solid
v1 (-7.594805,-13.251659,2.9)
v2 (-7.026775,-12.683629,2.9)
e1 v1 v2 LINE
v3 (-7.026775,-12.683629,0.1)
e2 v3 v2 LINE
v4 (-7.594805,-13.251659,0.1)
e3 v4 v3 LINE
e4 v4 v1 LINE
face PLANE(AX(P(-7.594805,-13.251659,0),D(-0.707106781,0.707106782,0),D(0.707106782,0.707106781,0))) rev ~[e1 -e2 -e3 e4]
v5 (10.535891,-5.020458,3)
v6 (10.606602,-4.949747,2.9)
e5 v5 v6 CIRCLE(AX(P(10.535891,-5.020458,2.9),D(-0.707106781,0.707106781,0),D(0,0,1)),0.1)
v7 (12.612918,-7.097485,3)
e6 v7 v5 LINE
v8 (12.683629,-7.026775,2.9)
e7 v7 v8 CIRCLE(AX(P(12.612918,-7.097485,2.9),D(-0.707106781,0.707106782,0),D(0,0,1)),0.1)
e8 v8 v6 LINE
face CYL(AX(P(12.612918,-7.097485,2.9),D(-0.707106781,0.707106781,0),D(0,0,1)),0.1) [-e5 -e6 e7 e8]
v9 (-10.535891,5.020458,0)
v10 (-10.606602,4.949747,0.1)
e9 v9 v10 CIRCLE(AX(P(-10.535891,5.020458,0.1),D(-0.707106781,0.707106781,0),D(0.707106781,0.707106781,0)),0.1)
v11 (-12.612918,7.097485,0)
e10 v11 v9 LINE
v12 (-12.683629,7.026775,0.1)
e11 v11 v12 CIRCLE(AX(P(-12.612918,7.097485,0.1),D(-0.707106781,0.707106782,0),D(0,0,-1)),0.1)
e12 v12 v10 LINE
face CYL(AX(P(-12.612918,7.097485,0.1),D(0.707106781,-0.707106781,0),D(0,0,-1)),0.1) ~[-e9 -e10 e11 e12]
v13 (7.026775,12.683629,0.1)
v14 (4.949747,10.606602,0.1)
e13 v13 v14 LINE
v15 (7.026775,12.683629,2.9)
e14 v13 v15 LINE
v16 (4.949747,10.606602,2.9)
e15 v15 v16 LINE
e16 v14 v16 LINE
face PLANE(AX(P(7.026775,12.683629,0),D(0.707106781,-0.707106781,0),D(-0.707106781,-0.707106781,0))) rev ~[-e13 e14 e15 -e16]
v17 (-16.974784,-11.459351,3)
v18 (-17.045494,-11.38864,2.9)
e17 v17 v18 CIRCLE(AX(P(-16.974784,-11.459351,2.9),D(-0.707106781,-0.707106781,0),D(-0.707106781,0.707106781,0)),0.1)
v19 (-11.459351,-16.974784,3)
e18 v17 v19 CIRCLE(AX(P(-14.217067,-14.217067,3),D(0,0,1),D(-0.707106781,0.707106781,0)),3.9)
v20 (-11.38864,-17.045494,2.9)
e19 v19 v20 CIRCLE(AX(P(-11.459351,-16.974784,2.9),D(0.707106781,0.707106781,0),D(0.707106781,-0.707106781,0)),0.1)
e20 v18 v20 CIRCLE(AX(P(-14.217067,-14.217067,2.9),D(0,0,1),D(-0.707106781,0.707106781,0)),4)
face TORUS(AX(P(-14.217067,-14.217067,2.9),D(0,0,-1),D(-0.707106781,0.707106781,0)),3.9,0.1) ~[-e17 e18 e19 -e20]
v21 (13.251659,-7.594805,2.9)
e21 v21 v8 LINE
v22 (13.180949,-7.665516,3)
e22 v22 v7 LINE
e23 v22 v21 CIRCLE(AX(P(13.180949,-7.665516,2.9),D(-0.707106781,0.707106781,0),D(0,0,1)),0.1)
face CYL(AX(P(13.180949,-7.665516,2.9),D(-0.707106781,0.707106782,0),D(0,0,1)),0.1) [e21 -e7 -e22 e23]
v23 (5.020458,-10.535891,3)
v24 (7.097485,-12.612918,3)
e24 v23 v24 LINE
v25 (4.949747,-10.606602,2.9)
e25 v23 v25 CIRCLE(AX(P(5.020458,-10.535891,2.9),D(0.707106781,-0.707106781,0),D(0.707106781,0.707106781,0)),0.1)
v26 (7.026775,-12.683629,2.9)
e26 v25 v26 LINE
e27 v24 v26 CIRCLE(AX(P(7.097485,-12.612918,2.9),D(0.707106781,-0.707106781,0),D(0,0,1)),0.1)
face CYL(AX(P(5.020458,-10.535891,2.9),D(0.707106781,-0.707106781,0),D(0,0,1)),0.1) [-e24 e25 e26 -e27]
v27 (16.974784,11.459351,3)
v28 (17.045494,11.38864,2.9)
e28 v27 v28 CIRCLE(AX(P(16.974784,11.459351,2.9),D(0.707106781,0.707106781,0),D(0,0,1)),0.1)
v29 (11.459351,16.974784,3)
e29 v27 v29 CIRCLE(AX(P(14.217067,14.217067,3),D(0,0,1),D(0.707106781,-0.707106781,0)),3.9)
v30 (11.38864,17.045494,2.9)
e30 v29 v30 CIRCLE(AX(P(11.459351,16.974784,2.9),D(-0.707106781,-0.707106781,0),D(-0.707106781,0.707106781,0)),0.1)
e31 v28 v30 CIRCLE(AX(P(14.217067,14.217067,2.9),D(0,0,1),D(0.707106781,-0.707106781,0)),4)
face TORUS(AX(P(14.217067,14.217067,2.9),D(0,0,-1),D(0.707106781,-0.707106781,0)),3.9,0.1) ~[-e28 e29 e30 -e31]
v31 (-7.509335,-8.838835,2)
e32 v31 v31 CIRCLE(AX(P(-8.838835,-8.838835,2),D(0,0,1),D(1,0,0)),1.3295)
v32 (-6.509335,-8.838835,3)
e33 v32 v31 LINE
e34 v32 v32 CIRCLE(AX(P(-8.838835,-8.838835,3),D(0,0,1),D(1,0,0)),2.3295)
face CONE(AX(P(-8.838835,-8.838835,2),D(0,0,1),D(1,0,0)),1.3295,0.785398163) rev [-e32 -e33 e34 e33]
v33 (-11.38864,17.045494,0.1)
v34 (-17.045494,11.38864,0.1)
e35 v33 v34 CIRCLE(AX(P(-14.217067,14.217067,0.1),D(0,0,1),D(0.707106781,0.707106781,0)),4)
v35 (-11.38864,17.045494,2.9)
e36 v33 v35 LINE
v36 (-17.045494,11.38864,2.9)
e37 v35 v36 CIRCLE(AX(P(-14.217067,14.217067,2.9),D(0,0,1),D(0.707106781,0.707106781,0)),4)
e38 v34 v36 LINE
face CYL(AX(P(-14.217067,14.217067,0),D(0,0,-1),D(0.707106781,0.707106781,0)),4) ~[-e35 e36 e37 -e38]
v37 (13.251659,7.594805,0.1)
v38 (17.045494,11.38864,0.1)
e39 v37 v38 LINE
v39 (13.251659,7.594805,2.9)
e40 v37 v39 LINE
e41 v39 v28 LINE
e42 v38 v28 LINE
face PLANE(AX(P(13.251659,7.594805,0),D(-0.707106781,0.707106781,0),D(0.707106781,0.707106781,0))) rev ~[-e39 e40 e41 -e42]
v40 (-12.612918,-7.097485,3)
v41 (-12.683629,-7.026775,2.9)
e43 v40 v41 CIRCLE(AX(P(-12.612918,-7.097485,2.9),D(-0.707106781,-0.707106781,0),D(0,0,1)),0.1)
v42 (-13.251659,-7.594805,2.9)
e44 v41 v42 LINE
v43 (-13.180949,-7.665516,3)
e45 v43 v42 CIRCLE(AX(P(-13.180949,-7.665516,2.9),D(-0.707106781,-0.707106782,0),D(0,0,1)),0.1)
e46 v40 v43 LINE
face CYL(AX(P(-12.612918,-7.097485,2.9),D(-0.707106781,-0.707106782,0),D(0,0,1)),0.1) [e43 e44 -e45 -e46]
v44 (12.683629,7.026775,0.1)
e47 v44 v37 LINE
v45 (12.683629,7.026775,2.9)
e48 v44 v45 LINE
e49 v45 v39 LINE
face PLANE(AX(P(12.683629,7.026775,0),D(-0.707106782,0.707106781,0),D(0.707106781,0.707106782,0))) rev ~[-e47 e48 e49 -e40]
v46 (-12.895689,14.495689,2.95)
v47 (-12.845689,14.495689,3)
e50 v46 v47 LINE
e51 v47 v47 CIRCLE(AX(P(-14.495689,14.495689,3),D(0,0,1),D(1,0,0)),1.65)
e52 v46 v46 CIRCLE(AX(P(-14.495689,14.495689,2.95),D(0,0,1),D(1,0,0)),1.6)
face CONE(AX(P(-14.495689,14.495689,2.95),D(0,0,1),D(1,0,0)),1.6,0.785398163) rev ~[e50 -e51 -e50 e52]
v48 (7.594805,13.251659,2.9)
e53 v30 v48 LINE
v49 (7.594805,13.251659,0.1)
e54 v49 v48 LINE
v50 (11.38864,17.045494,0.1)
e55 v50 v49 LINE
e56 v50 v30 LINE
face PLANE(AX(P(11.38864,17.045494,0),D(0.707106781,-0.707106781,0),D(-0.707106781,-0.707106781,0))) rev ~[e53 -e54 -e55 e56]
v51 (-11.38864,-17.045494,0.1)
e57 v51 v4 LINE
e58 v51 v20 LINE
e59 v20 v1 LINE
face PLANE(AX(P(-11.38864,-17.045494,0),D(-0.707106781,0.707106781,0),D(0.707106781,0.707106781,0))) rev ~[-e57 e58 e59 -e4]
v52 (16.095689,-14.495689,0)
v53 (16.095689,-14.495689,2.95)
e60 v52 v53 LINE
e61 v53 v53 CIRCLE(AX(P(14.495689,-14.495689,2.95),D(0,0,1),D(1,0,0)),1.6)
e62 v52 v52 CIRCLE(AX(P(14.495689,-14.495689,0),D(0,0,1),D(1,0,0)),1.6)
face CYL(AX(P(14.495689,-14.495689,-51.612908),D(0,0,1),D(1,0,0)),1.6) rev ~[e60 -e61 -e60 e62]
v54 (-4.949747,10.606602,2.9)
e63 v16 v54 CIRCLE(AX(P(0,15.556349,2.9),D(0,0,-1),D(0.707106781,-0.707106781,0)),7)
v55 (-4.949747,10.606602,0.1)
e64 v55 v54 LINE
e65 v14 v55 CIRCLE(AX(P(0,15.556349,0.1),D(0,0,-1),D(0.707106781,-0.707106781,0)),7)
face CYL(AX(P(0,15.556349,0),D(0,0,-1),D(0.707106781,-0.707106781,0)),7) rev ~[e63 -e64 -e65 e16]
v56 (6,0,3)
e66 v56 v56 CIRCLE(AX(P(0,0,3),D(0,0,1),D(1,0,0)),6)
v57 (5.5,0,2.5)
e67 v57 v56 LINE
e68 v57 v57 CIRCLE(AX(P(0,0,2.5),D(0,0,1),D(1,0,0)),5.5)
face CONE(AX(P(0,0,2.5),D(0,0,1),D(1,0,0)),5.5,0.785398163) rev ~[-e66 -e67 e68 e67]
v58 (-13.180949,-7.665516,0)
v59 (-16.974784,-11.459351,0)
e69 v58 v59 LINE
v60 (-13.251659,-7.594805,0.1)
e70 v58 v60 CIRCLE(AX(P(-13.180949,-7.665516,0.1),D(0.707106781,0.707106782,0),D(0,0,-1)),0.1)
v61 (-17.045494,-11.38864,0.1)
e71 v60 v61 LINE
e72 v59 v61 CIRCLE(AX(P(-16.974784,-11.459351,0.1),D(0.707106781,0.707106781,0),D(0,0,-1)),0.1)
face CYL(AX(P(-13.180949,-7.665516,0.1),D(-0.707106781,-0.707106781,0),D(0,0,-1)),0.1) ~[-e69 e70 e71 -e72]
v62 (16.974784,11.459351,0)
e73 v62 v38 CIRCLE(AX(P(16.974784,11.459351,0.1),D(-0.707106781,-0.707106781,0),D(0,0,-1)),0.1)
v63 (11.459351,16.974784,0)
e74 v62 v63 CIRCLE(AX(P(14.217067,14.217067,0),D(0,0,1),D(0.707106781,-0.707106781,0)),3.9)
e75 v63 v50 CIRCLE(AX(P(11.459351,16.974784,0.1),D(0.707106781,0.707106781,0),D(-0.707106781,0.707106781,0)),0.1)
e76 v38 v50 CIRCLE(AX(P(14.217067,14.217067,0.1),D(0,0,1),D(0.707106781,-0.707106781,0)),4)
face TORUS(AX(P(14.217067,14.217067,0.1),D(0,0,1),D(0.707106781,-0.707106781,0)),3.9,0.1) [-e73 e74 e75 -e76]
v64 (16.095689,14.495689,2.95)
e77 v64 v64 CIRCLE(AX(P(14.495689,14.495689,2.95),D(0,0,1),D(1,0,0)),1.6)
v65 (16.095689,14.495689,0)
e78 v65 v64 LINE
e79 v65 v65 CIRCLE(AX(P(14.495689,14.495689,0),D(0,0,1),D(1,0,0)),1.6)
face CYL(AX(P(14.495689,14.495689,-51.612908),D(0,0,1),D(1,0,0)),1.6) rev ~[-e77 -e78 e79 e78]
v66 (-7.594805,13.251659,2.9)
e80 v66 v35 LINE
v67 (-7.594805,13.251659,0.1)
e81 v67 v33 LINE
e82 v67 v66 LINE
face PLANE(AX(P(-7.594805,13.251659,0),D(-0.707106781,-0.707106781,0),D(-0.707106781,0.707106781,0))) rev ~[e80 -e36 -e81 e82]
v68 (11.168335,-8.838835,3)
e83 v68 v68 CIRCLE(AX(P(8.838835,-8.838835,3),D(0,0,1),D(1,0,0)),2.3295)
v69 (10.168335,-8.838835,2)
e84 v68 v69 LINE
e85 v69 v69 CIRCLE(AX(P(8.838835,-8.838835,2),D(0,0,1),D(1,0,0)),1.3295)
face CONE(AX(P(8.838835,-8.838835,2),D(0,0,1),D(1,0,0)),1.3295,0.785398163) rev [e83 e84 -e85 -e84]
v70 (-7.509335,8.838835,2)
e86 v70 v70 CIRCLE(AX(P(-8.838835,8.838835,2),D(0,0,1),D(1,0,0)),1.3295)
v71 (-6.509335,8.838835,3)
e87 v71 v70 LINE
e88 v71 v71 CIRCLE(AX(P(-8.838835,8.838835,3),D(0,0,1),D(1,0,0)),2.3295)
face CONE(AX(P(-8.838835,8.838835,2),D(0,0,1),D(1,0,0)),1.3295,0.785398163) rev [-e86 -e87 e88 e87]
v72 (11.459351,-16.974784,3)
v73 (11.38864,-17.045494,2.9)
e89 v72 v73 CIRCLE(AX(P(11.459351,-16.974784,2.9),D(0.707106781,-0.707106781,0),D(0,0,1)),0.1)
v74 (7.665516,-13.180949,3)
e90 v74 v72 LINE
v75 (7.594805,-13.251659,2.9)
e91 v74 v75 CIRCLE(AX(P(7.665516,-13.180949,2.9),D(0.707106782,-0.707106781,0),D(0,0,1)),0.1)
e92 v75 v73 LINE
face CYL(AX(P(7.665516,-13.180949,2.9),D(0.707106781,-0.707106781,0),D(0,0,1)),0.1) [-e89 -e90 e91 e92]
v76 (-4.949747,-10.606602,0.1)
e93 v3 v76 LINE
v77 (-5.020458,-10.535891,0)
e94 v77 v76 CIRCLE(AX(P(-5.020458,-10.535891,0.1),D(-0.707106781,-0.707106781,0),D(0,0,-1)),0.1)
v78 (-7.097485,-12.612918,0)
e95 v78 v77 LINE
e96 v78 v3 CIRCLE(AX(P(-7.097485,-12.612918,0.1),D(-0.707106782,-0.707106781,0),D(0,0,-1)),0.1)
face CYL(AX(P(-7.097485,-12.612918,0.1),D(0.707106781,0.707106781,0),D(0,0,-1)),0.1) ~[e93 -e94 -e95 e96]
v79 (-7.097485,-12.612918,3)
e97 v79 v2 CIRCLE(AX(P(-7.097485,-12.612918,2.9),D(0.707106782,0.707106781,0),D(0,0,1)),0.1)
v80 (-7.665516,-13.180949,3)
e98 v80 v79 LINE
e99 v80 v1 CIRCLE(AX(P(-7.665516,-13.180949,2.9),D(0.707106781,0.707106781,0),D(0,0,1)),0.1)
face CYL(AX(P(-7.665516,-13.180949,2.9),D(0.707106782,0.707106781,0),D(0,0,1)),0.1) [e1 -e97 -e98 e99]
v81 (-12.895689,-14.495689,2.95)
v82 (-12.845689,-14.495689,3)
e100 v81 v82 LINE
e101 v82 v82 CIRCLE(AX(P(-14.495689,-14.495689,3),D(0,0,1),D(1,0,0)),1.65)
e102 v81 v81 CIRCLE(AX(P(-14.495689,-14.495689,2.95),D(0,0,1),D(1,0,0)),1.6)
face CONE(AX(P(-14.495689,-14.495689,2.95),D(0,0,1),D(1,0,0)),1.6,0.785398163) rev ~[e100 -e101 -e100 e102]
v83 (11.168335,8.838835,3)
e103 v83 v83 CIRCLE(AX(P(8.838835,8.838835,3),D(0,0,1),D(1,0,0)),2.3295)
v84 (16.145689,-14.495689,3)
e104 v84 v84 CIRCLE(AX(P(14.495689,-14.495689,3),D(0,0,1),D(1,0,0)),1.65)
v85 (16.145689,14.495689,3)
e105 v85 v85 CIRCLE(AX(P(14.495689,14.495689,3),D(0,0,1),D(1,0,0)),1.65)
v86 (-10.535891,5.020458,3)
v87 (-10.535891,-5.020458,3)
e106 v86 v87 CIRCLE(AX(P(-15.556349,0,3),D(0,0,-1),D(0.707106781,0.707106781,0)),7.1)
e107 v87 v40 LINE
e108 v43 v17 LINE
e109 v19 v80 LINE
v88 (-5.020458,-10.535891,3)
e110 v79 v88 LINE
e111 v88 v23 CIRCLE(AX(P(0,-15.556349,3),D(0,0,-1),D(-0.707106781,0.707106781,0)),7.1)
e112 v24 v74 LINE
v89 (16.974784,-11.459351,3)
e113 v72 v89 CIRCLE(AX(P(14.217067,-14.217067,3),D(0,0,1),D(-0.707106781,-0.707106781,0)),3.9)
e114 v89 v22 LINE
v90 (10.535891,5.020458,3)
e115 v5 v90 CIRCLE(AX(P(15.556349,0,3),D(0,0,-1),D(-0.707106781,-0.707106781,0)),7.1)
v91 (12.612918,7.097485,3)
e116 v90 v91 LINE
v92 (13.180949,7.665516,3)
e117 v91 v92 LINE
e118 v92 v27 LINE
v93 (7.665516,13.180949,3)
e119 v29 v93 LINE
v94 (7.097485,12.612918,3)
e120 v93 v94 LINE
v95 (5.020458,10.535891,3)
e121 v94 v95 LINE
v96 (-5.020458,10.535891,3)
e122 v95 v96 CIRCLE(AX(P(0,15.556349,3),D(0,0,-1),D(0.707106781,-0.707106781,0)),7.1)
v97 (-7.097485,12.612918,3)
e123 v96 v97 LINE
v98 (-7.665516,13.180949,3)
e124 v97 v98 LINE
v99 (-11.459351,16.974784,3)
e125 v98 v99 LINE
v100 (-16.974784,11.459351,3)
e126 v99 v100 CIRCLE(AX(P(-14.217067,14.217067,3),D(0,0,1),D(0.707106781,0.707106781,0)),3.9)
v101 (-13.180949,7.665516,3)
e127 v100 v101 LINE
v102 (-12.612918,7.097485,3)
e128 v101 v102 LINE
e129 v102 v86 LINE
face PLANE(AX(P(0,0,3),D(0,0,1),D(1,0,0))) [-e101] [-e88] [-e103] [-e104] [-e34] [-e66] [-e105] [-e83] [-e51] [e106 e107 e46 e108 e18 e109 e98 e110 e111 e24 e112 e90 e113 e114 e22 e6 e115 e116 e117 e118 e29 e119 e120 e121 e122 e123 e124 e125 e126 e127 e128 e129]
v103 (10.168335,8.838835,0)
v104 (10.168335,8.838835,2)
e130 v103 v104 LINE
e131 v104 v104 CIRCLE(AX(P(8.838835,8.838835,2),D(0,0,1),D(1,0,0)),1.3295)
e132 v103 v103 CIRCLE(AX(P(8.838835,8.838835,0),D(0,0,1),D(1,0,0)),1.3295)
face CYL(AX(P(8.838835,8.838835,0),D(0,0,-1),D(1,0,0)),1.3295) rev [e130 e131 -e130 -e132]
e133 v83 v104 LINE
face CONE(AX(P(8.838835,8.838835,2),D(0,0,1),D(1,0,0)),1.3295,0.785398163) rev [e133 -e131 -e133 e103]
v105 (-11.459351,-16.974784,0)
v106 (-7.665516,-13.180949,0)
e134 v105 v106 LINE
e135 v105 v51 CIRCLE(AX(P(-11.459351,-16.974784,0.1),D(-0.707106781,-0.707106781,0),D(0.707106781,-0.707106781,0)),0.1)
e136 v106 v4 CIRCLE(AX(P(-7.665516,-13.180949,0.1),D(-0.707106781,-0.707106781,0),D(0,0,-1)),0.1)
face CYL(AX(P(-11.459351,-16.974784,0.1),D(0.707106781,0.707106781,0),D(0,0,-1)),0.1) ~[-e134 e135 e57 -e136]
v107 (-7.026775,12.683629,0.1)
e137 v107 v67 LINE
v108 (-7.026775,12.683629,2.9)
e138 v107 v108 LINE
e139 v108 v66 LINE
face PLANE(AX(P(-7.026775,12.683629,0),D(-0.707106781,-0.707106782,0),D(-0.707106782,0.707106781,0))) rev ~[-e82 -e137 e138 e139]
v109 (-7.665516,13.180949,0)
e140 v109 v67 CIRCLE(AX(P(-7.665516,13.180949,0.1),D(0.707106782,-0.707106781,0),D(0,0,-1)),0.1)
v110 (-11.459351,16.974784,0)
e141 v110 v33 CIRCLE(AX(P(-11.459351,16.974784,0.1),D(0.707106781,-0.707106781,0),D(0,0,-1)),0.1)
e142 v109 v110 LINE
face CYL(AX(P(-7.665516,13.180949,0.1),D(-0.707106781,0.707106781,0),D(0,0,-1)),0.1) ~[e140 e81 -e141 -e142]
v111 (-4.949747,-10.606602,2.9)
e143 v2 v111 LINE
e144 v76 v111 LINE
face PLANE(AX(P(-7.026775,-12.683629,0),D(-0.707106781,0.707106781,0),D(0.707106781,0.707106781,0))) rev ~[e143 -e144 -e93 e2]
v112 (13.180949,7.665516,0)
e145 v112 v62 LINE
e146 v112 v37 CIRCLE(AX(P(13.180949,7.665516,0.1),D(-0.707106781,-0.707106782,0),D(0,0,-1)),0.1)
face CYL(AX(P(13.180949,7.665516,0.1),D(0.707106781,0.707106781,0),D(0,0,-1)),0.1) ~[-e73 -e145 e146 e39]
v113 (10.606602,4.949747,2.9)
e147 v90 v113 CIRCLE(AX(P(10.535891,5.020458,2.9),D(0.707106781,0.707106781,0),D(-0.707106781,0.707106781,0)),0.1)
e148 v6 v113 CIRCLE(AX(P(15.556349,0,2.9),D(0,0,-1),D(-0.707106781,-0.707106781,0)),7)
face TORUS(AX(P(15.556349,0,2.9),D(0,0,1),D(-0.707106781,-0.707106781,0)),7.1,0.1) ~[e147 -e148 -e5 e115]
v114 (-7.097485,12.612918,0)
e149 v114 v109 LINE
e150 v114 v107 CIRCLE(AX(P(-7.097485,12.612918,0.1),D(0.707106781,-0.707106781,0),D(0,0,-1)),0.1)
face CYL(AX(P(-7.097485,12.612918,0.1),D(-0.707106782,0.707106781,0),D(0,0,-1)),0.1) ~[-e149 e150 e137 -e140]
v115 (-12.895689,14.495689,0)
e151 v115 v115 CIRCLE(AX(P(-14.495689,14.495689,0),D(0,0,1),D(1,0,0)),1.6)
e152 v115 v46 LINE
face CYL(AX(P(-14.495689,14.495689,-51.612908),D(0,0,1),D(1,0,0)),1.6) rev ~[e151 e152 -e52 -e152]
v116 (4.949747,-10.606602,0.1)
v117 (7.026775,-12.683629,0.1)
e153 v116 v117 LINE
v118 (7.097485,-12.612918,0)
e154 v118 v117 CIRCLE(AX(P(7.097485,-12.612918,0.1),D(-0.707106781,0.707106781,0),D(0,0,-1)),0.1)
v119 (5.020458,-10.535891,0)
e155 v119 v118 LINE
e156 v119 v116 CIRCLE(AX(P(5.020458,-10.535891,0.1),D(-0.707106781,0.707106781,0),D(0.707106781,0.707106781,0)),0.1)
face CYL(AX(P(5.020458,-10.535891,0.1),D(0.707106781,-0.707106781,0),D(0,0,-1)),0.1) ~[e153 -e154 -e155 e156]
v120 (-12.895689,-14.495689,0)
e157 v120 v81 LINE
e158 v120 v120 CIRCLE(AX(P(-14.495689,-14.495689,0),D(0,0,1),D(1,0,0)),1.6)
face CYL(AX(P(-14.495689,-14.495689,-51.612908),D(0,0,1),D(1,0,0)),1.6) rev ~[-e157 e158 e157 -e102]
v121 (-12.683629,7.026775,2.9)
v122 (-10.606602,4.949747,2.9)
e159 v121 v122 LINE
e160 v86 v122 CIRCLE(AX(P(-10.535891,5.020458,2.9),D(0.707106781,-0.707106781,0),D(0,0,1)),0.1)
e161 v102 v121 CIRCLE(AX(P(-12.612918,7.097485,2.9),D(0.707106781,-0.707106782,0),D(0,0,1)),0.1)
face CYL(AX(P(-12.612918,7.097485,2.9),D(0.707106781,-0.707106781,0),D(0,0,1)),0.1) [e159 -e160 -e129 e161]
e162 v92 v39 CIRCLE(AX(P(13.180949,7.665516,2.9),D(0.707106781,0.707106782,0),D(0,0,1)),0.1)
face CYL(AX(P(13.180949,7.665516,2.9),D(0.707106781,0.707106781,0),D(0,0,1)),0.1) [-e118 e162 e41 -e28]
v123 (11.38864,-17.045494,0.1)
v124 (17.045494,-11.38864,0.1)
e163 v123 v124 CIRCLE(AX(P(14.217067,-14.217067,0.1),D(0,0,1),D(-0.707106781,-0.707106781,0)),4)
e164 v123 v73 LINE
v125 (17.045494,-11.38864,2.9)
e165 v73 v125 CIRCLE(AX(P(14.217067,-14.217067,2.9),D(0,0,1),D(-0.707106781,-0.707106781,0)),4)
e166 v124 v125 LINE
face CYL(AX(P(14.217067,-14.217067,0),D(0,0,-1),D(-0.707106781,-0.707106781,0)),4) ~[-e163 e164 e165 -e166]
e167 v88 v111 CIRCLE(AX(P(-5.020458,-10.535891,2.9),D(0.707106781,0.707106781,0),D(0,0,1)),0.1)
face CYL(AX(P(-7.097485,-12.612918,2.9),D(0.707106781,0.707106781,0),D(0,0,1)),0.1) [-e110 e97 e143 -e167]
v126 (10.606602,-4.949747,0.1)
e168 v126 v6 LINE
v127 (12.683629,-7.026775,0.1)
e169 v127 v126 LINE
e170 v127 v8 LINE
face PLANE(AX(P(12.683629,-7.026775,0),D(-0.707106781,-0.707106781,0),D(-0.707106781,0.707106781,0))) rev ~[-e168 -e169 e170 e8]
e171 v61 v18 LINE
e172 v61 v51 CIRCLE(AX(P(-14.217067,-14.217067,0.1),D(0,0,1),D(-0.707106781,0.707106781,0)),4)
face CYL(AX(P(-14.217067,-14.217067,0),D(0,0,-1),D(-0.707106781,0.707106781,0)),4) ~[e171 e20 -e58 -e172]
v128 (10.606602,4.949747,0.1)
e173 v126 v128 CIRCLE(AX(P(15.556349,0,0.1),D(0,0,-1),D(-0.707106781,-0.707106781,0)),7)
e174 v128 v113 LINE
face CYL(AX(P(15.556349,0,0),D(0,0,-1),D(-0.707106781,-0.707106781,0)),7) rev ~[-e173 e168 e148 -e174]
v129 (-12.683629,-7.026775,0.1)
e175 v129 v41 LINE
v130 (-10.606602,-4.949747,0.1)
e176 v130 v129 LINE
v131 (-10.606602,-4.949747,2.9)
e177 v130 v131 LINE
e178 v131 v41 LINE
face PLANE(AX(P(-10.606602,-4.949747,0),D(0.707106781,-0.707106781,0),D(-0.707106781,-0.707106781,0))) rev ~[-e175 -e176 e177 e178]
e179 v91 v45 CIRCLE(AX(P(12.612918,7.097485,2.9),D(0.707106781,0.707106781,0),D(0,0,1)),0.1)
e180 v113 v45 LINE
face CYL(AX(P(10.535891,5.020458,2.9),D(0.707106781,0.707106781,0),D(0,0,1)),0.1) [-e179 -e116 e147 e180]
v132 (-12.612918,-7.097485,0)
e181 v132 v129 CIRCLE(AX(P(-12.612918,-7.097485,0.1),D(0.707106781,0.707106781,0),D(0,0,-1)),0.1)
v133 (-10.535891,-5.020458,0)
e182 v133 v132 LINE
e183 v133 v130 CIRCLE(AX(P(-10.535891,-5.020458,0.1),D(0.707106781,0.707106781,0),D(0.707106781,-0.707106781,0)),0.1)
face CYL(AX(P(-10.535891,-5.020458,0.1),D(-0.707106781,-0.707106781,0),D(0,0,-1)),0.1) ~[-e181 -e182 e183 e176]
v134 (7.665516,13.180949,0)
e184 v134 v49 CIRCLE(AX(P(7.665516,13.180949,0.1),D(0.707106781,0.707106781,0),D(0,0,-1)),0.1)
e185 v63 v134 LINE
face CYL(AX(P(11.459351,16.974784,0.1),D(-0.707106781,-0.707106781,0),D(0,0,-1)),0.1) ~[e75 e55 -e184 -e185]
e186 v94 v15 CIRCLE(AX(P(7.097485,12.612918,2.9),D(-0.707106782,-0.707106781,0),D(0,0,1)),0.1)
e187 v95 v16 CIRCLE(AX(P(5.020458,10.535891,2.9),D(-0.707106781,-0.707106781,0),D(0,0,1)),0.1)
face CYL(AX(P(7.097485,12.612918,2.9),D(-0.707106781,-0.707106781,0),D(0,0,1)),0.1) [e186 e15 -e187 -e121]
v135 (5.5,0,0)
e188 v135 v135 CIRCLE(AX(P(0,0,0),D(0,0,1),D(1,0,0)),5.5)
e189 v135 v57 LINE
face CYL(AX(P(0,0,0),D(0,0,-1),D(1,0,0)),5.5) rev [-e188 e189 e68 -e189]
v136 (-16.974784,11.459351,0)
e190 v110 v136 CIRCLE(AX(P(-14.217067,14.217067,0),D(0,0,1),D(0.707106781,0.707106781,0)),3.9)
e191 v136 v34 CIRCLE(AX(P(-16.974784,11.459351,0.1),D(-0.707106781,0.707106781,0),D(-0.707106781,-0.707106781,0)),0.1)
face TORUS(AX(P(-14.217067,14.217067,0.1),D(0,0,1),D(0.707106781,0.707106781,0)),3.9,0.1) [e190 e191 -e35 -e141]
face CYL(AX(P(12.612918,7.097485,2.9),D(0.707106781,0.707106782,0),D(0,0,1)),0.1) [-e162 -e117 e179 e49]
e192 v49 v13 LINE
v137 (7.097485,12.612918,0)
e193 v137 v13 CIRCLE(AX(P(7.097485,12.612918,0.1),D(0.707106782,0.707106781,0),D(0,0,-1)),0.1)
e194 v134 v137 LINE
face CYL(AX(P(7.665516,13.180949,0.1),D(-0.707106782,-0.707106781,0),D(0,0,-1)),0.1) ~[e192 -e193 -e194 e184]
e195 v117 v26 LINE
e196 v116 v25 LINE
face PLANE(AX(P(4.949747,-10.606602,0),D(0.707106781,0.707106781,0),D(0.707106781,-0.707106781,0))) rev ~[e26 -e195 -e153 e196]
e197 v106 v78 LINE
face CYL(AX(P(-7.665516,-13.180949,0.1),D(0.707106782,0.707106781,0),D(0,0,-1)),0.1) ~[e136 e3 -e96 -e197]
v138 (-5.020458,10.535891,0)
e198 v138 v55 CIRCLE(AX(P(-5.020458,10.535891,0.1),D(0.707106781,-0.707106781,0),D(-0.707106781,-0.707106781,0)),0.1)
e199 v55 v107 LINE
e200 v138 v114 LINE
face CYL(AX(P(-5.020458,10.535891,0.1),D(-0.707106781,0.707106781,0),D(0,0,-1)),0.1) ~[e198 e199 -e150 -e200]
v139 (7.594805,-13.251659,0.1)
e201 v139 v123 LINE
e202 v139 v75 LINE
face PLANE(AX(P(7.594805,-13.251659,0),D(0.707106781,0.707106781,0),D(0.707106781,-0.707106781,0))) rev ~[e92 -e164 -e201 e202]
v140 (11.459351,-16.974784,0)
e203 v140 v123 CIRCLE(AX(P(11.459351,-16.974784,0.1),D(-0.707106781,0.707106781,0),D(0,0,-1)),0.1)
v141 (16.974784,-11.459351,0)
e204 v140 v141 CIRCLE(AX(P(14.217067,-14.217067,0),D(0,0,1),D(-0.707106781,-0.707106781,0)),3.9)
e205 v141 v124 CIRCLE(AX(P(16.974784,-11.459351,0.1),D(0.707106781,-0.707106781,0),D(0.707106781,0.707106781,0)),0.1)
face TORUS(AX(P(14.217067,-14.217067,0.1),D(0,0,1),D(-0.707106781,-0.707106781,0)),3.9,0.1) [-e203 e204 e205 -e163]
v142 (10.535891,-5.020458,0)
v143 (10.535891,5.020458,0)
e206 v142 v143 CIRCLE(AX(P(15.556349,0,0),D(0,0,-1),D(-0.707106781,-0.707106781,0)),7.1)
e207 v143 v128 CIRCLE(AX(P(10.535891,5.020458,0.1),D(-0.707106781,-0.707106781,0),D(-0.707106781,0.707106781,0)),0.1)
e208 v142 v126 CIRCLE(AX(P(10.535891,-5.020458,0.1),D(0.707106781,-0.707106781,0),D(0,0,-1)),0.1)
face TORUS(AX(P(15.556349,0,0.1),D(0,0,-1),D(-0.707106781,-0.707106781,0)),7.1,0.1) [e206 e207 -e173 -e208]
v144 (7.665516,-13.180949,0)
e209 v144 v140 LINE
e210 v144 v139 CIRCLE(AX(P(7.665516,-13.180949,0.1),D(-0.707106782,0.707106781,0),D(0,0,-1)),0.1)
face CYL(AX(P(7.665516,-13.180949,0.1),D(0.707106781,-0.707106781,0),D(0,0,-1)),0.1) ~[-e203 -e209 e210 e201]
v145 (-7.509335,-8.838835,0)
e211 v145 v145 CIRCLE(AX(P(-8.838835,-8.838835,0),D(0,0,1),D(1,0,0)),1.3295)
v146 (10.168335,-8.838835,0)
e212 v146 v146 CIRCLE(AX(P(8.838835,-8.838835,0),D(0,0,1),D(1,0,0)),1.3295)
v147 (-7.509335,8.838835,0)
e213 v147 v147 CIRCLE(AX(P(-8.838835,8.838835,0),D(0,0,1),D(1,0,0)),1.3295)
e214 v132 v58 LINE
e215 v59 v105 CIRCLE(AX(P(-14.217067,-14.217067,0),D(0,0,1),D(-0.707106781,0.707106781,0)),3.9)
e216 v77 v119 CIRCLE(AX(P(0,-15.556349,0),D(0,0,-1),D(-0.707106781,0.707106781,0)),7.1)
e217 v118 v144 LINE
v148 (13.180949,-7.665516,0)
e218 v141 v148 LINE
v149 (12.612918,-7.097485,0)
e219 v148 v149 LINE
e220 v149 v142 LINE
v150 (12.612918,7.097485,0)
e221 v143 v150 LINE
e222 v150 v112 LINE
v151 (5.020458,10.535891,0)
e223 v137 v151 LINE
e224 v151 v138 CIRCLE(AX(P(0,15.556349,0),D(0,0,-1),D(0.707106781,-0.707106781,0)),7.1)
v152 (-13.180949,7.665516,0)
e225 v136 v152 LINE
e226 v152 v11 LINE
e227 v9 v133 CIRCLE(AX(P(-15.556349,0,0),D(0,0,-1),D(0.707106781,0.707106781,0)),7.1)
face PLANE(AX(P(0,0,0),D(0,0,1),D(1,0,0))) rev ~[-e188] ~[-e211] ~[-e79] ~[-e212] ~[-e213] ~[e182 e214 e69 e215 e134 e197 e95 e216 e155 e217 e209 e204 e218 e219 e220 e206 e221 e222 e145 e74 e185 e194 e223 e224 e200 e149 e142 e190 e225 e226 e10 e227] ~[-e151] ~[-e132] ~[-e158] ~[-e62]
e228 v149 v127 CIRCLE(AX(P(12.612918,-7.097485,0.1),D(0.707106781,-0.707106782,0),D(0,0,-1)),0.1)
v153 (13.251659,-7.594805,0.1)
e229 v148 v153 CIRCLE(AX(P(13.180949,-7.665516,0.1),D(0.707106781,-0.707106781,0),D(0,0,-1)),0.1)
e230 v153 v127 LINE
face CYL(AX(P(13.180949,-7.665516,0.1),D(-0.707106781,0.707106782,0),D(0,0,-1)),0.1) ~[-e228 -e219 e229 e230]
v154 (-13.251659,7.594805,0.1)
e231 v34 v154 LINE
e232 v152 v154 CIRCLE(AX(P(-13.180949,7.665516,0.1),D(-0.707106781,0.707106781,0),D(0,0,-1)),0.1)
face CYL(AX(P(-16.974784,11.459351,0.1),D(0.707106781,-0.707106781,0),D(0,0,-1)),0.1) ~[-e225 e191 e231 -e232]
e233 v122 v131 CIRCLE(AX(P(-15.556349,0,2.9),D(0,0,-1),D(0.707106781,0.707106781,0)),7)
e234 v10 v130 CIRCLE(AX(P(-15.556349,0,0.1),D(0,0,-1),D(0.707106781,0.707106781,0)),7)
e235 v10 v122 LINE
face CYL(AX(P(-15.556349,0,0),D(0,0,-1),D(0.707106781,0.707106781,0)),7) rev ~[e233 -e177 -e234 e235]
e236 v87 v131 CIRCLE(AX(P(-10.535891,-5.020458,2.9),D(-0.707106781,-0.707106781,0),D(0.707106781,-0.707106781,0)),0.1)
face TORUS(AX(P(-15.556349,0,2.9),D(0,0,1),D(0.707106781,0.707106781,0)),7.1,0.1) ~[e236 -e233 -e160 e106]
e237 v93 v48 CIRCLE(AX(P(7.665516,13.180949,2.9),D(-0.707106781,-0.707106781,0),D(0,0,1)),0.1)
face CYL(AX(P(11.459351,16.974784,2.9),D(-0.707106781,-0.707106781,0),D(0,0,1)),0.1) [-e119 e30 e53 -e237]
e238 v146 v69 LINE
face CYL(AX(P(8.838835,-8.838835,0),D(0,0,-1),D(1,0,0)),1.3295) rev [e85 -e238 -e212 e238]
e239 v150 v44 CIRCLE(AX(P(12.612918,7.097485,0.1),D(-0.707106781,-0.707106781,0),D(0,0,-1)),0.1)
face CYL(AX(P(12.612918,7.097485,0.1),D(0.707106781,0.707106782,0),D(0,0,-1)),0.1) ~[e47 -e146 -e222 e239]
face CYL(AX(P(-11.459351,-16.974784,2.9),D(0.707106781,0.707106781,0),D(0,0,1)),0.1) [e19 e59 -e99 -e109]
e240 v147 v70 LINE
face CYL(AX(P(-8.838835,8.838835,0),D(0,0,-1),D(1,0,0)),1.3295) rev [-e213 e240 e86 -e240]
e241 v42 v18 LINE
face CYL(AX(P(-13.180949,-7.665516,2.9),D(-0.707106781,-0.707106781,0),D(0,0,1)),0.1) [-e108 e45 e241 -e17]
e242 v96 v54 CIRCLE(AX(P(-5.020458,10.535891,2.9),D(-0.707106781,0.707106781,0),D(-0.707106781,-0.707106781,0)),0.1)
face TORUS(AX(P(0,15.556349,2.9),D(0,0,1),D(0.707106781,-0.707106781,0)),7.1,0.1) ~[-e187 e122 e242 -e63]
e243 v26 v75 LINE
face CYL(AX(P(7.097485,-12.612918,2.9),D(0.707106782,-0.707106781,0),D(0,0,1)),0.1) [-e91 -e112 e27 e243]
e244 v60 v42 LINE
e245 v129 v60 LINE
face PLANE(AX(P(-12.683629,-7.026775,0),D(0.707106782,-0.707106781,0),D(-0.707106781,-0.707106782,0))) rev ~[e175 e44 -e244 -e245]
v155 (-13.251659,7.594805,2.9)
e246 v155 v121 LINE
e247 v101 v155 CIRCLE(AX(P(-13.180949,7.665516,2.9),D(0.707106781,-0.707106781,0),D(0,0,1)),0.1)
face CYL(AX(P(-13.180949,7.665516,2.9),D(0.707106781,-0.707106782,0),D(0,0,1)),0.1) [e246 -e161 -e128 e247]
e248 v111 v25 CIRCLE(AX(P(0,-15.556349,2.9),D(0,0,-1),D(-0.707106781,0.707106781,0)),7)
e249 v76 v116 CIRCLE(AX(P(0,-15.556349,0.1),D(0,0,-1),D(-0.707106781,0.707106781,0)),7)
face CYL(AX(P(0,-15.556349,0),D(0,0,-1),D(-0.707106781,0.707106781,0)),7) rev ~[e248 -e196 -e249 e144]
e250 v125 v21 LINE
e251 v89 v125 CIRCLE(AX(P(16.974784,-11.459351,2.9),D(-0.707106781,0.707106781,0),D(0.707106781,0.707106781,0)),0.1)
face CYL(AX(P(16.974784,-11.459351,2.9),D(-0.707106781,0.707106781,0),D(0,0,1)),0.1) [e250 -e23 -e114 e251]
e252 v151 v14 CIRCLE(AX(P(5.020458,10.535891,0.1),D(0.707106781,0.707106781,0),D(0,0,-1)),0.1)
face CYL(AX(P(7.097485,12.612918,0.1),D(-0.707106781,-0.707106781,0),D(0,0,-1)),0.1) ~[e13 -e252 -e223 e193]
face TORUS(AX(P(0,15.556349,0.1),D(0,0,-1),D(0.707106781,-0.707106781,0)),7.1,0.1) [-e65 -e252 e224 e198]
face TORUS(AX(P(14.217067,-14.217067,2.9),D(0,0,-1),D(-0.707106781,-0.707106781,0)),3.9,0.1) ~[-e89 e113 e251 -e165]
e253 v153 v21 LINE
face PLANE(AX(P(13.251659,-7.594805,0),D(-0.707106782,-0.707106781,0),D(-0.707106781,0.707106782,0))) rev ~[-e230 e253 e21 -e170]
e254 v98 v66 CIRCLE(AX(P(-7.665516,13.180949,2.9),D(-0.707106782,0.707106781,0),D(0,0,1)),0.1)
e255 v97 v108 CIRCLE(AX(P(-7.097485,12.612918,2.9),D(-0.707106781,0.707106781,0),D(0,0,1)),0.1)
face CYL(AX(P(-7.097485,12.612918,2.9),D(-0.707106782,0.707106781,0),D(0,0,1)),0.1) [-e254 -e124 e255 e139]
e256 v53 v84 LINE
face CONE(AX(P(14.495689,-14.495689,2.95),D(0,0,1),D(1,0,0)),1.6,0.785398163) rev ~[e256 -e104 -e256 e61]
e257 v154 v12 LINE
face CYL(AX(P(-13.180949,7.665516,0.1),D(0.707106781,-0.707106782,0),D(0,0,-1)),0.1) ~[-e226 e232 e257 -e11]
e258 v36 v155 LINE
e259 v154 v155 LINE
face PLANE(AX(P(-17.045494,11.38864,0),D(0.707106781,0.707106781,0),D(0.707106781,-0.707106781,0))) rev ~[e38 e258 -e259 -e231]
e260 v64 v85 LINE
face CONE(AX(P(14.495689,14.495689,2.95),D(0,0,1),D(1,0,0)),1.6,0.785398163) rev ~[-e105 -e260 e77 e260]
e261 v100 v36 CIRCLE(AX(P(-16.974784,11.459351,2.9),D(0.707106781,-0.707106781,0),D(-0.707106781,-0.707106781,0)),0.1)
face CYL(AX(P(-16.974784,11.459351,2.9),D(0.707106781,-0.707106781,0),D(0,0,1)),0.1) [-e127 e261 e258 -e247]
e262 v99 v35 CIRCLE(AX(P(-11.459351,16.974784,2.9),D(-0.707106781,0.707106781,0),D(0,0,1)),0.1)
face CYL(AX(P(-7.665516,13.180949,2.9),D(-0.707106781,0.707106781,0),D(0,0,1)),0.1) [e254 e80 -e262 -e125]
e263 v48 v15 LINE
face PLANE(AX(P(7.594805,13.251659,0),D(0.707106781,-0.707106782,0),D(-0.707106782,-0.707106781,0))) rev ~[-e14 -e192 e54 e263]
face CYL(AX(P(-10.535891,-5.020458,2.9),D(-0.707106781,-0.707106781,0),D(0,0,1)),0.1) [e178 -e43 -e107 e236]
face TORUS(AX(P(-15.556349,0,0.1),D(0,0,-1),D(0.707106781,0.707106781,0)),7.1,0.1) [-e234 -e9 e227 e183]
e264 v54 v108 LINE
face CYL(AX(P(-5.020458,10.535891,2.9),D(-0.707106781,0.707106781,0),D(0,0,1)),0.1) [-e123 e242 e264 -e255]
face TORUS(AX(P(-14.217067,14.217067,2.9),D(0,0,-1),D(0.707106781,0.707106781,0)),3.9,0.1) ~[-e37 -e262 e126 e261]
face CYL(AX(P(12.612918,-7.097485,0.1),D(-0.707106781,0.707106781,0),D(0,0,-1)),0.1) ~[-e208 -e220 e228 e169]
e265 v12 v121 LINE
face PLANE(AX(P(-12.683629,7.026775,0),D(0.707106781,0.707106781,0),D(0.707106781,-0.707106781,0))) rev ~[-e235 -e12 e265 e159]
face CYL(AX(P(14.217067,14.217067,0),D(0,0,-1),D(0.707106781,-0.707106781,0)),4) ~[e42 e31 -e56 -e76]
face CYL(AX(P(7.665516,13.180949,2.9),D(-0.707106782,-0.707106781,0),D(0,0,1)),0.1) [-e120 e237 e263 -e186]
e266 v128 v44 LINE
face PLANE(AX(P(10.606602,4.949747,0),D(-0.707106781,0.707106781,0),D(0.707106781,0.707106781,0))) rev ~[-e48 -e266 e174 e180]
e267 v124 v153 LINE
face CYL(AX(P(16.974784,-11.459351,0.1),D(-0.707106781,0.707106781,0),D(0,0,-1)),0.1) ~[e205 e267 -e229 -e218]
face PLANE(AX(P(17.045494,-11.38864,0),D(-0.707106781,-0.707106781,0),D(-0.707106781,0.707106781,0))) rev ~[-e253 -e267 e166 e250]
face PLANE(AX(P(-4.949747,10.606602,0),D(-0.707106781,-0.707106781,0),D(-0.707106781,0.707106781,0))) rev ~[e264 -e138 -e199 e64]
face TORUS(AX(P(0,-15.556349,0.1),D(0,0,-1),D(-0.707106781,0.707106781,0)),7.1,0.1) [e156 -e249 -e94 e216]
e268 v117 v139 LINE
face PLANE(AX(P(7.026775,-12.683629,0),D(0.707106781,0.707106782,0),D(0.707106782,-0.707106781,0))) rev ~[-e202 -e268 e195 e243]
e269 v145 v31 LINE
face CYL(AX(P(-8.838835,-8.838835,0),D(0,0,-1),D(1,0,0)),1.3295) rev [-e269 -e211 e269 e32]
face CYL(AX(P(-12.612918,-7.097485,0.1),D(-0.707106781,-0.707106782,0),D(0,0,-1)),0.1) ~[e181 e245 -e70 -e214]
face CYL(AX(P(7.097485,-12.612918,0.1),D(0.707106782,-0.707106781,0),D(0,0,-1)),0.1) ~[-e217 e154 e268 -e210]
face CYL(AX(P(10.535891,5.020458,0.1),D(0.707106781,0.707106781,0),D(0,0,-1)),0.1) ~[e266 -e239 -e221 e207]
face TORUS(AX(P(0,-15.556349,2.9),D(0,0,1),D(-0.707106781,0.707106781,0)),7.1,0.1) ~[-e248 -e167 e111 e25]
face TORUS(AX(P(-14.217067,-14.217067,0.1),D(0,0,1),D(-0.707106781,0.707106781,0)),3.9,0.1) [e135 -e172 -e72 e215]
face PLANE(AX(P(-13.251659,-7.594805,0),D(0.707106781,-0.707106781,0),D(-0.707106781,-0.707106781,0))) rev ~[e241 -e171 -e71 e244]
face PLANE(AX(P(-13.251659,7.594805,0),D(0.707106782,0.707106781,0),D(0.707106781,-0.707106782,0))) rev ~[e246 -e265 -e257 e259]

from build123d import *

# Parameters (mm, degrees)
SKETCH1_R                  = 1.3295
SKETCH1_R_2                = 7.25
BOSS_EXTRUDE1_DEPTH        = 3
F_3_2_3_2_DIAMETER_HOLE1_D = 3.2
CHAMFER1_SIZE              = 1
BOSS_EXTRUDE2_START        = -3
SKETCH7_R                  = 7.25
SKETCH7_R_2                = 5.5
BOSS_EXTRUDE2_DEPTH        = 3
CHAMFER2_SIZE              = 0.5
FILLET1_R                  = 0.1
CHAMFER3_SIZE              = 0.05


with BuildPart() as part:
    # Sketch1 → Boss-Extrude1 (new body)
    # profile 1 of 5: a face of its own
    with BuildSketch(Plane.XY):
        with BuildLine():
            Line((-11.388640083, -17.045494333), (-7.594804957, -13.251659206))
            ThreePointArc((-7.594804957, -13.251659206), (-10.800174398, -10.800174398), (-13.251659206, -7.594804957))
            Line((-13.251659206, -7.594804957), (-17.045494333, -11.388640083))
            ThreePointArc((-17.045494333, -11.388640083), (-17.045494333, -17.045494333), (-11.388640083, -17.045494333))
        make_face()
    # profile 2 of 5: a face of its own
    with BuildSketch(Plane.XY):
        with BuildLine():
            Line((-7.026774547, -12.683628797), (-4.949747468, -10.606601718))
            ThreePointArc((-4.949747468, -10.606601718), (0, -8.556349186), (4.949747468, -10.606601718))
            Line((4.949747468, -10.606601718), (7.026774547, -12.683628797))
            Line((7.026774547, -12.683628797), (7.594804957, -13.251659206))
            ThreePointArc((7.594804957, -13.251659206), (10.800174398, -10.800174398), (13.251659206, -7.594804957))
            Line((13.251659206, -7.594804957), (12.683628797, -7.026774547))
            Line((12.683628797, -7.026774547), (10.606601718, -4.949747468))
            ThreePointArc((10.606601718, -4.949747468), (8.556349186, 0), (10.606601718, 4.949747468))
            Line((10.606601718, 4.949747468), (12.683628797, 7.026774547))
            Line((12.683628797, 7.026774547), (13.251659206, 7.594804957))
            ThreePointArc((13.251659206, 7.594804957), (10.800174398, 10.800174398), (7.594804957, 13.251659206))
            Line((7.594804957, 13.251659206), (7.026774547, 12.683628797))
            Line((7.026774547, 12.683628797), (4.949747468, 10.606601718))
            ThreePointArc((4.949747468, 10.606601718), (0, 8.556349186), (-4.949747468, 10.606601718))
            Line((-4.949747468, 10.606601718), (-7.026774547, 12.683628797))
            Line((-7.026774547, 12.683628797), (-7.594804957, 13.251659206))
            ThreePointArc((-7.594804957, 13.251659206), (-10.800174398, 10.800174398), (-13.251659206, 7.594804957))
            Line((-13.251659206, 7.594804957), (-12.683628797, 7.026774547))
            Line((-12.683628797, 7.026774547), (-10.606601718, 4.949747468))
            ThreePointArc((-10.606601718, 4.949747468), (-8.556349186, 0), (-10.606601718, -4.949747468))
            Line((-10.606601718, -4.949747468), (-12.683628797, -7.026774547))
            Line((-12.683628797, -7.026774547), (-13.251659206, -7.594804957))
            ThreePointArc((-13.251659206, -7.594804957), (-10.800174398, -10.800174398), (-7.594804957, -13.251659206))
            Line((-7.594804957, -13.251659206), (-7.026774547, -12.683628797))
        make_face()
        with Locations((-8.838834765, -8.838834765)):
            Circle(SKETCH1_R, mode=Mode.SUBTRACT)
        with Locations((8.838834765, -8.838834765)):
            Circle(SKETCH1_R, mode=Mode.SUBTRACT)
        Circle(SKETCH1_R_2, mode=Mode.SUBTRACT)
        with Locations((-8.838834765, 8.838834765)):
            Circle(SKETCH1_R, mode=Mode.SUBTRACT)
        with Locations((8.838834765, 8.838834765)):
            Circle(SKETCH1_R, mode=Mode.SUBTRACT)
    # profile 3 of 5: a face of its own
    with BuildSketch(Plane.XY):
        with BuildLine():
            ThreePointArc((13.251659206, -7.594804957), (10.800174398, -10.800174398), (7.594804957, -13.251659206))
            Line((7.594804957, -13.251659206), (11.388640083, -17.045494333))
            ThreePointArc((11.388640083, -17.045494333), (17.045494333, -17.045494333), (17.045494333, -11.388640083))
            Line((17.045494333, -11.388640083), (13.251659206, -7.594804957))
        make_face()
    # profile 4 of 5: a face of its own
    with BuildSketch(Plane.XY):
        with BuildLine():
            Line((11.388640083, 17.045494333), (7.594804957, 13.251659206))
            ThreePointArc((7.594804957, 13.251659206), (10.800174398, 10.800174398), (13.251659206, 7.594804957))
            Line((13.251659206, 7.594804957), (17.045494333, 11.388640083))
            ThreePointArc((17.045494333, 11.388640083), (17.045494333, 17.045494333), (11.388640083, 17.045494333))
        make_face()
    # profile 5 of 5: a face of its own
    with BuildSketch(Plane.XY):
        with BuildLine():
            Line((-17.045494333, 11.388640083), (-13.251659206, 7.594804957))
            ThreePointArc((-13.251659206, 7.594804957), (-10.800174398, 10.800174398), (-7.594804957, 13.251659206))
            Line((-7.594804957, 13.251659206), (-11.388640083, 17.045494333))
            ThreePointArc((-11.388640083, 17.045494333), (-17.045494333, 17.045494333), (-17.045494333, 11.388640083))
        make_face()
    extrude(amount=BOSS_EXTRUDE1_DEPTH)

    # Ø3.2 (3.2) Diameter Hole1 (through all)
    with Locations(Plane(origin=(0, 0, 0), x_dir=(-1, 0, 0), z_dir=(0, 0, -1))):
        with Locations((-14.495689014, 14.495689014), (14.495689014, -14.495689014), (14.495689014, 14.495689014), (-14.495689014, -14.495689014)):
            Hole(F_3_2_3_2_DIAMETER_HOLE1_D / 2)

    # Chamfer1
    chamfer1_edges = [part.edges().sort_by_distance(p)[0] for p in [
        (7.509334765, -8.838834765, 3),
        (-10.168334765, -8.838834765, 3),
        (-10.168334765, 8.838834765, 3),
        (7.509334765, 8.838834765, 3),
    ]]
    chamfer(chamfer1_edges, length=CHAMFER1_SIZE)

    # Sketch7 → Boss-Extrude2 (add)
    with BuildSketch(Plane.XY.offset(3).offset(BOSS_EXTRUDE2_START)):
        Circle(SKETCH7_R)
        Circle(SKETCH7_R_2, mode=Mode.SUBTRACT)
    extrude(amount=BOSS_EXTRUDE2_DEPTH)

    # Chamfer2
    chamfer2_edges = [part.edges().sort_by_distance(p)[0] for p in [
        (-5.5, 0, 3),
    ]]
    chamfer(chamfer2_edges, length=CHAMFER2_SIZE)

    # Fillet1
    fillet1_edges = [part.edges().sort_by_distance(p)[0] for p in [
        (-17.045494333, -17.045494333, 3),
        (-8.169193776, -13.826048025, 3),
        (0, -8.556349186, 3),
        (-8.556349186, 0, 0),
        (-13.826048025, 8.169193776, 0),
        (-17.045494333, 17.045494333, 0),
        (-8.169193776, 13.826048025, 0),
        (0, 8.556349186, 0),
        (8.169193776, 13.826048025, 0),
        (8.169193776, -13.826048025, 3),
        (17.045494333, 17.045494333, 0),
        (13.826048025, 8.169193776, 0),
        (8.556349186, 0, 0),
        (13.826048025, -8.169193776, 0),
        (17.045494333, -17.045494333, 0),
        (8.169193776, -13.826048025, 0),
        (0, -8.556349186, 0),
        (-8.169193776, -13.826048025, 0),
        (-17.045494333, -17.045494333, 0),
        (-13.826048025, -8.169193776, 0),
        (17.045494333, -17.045494333, 3),
        (13.826048025, -8.169193776, 3),
        (8.556349186, 0, 3),
        (13.826048025, 8.169193776, 3),
        (17.045494333, 17.045494333, 3),
        (8.169193776, 13.826048025, 3),
        (0, 8.556349186, 3),
        (-8.169193776, 13.826048025, 3),
        (-17.045494333, 17.045494333, 3),
        (-13.826048025, 8.169193776, 3),
        (-8.556349186, 0, 3),
        (-13.826048025, -8.169193776, 3),
    ]]
    fillet(fillet1_edges, radius=FILLET1_R)

    # Chamfer3
    chamfer3_edges = [part.edges().sort_by_distance(p)[0] for p in [
        (12.895689014, -14.495689014, 3),
        (-16.095689014, 14.495689014, 3),
        (-16.095689014, -14.495689014, 3),
        (12.895689014, 14.495689014, 3),
    ]]
    chamfer(chamfer3_edges, length=CHAMFER3_SIZE)


solid = part.part
